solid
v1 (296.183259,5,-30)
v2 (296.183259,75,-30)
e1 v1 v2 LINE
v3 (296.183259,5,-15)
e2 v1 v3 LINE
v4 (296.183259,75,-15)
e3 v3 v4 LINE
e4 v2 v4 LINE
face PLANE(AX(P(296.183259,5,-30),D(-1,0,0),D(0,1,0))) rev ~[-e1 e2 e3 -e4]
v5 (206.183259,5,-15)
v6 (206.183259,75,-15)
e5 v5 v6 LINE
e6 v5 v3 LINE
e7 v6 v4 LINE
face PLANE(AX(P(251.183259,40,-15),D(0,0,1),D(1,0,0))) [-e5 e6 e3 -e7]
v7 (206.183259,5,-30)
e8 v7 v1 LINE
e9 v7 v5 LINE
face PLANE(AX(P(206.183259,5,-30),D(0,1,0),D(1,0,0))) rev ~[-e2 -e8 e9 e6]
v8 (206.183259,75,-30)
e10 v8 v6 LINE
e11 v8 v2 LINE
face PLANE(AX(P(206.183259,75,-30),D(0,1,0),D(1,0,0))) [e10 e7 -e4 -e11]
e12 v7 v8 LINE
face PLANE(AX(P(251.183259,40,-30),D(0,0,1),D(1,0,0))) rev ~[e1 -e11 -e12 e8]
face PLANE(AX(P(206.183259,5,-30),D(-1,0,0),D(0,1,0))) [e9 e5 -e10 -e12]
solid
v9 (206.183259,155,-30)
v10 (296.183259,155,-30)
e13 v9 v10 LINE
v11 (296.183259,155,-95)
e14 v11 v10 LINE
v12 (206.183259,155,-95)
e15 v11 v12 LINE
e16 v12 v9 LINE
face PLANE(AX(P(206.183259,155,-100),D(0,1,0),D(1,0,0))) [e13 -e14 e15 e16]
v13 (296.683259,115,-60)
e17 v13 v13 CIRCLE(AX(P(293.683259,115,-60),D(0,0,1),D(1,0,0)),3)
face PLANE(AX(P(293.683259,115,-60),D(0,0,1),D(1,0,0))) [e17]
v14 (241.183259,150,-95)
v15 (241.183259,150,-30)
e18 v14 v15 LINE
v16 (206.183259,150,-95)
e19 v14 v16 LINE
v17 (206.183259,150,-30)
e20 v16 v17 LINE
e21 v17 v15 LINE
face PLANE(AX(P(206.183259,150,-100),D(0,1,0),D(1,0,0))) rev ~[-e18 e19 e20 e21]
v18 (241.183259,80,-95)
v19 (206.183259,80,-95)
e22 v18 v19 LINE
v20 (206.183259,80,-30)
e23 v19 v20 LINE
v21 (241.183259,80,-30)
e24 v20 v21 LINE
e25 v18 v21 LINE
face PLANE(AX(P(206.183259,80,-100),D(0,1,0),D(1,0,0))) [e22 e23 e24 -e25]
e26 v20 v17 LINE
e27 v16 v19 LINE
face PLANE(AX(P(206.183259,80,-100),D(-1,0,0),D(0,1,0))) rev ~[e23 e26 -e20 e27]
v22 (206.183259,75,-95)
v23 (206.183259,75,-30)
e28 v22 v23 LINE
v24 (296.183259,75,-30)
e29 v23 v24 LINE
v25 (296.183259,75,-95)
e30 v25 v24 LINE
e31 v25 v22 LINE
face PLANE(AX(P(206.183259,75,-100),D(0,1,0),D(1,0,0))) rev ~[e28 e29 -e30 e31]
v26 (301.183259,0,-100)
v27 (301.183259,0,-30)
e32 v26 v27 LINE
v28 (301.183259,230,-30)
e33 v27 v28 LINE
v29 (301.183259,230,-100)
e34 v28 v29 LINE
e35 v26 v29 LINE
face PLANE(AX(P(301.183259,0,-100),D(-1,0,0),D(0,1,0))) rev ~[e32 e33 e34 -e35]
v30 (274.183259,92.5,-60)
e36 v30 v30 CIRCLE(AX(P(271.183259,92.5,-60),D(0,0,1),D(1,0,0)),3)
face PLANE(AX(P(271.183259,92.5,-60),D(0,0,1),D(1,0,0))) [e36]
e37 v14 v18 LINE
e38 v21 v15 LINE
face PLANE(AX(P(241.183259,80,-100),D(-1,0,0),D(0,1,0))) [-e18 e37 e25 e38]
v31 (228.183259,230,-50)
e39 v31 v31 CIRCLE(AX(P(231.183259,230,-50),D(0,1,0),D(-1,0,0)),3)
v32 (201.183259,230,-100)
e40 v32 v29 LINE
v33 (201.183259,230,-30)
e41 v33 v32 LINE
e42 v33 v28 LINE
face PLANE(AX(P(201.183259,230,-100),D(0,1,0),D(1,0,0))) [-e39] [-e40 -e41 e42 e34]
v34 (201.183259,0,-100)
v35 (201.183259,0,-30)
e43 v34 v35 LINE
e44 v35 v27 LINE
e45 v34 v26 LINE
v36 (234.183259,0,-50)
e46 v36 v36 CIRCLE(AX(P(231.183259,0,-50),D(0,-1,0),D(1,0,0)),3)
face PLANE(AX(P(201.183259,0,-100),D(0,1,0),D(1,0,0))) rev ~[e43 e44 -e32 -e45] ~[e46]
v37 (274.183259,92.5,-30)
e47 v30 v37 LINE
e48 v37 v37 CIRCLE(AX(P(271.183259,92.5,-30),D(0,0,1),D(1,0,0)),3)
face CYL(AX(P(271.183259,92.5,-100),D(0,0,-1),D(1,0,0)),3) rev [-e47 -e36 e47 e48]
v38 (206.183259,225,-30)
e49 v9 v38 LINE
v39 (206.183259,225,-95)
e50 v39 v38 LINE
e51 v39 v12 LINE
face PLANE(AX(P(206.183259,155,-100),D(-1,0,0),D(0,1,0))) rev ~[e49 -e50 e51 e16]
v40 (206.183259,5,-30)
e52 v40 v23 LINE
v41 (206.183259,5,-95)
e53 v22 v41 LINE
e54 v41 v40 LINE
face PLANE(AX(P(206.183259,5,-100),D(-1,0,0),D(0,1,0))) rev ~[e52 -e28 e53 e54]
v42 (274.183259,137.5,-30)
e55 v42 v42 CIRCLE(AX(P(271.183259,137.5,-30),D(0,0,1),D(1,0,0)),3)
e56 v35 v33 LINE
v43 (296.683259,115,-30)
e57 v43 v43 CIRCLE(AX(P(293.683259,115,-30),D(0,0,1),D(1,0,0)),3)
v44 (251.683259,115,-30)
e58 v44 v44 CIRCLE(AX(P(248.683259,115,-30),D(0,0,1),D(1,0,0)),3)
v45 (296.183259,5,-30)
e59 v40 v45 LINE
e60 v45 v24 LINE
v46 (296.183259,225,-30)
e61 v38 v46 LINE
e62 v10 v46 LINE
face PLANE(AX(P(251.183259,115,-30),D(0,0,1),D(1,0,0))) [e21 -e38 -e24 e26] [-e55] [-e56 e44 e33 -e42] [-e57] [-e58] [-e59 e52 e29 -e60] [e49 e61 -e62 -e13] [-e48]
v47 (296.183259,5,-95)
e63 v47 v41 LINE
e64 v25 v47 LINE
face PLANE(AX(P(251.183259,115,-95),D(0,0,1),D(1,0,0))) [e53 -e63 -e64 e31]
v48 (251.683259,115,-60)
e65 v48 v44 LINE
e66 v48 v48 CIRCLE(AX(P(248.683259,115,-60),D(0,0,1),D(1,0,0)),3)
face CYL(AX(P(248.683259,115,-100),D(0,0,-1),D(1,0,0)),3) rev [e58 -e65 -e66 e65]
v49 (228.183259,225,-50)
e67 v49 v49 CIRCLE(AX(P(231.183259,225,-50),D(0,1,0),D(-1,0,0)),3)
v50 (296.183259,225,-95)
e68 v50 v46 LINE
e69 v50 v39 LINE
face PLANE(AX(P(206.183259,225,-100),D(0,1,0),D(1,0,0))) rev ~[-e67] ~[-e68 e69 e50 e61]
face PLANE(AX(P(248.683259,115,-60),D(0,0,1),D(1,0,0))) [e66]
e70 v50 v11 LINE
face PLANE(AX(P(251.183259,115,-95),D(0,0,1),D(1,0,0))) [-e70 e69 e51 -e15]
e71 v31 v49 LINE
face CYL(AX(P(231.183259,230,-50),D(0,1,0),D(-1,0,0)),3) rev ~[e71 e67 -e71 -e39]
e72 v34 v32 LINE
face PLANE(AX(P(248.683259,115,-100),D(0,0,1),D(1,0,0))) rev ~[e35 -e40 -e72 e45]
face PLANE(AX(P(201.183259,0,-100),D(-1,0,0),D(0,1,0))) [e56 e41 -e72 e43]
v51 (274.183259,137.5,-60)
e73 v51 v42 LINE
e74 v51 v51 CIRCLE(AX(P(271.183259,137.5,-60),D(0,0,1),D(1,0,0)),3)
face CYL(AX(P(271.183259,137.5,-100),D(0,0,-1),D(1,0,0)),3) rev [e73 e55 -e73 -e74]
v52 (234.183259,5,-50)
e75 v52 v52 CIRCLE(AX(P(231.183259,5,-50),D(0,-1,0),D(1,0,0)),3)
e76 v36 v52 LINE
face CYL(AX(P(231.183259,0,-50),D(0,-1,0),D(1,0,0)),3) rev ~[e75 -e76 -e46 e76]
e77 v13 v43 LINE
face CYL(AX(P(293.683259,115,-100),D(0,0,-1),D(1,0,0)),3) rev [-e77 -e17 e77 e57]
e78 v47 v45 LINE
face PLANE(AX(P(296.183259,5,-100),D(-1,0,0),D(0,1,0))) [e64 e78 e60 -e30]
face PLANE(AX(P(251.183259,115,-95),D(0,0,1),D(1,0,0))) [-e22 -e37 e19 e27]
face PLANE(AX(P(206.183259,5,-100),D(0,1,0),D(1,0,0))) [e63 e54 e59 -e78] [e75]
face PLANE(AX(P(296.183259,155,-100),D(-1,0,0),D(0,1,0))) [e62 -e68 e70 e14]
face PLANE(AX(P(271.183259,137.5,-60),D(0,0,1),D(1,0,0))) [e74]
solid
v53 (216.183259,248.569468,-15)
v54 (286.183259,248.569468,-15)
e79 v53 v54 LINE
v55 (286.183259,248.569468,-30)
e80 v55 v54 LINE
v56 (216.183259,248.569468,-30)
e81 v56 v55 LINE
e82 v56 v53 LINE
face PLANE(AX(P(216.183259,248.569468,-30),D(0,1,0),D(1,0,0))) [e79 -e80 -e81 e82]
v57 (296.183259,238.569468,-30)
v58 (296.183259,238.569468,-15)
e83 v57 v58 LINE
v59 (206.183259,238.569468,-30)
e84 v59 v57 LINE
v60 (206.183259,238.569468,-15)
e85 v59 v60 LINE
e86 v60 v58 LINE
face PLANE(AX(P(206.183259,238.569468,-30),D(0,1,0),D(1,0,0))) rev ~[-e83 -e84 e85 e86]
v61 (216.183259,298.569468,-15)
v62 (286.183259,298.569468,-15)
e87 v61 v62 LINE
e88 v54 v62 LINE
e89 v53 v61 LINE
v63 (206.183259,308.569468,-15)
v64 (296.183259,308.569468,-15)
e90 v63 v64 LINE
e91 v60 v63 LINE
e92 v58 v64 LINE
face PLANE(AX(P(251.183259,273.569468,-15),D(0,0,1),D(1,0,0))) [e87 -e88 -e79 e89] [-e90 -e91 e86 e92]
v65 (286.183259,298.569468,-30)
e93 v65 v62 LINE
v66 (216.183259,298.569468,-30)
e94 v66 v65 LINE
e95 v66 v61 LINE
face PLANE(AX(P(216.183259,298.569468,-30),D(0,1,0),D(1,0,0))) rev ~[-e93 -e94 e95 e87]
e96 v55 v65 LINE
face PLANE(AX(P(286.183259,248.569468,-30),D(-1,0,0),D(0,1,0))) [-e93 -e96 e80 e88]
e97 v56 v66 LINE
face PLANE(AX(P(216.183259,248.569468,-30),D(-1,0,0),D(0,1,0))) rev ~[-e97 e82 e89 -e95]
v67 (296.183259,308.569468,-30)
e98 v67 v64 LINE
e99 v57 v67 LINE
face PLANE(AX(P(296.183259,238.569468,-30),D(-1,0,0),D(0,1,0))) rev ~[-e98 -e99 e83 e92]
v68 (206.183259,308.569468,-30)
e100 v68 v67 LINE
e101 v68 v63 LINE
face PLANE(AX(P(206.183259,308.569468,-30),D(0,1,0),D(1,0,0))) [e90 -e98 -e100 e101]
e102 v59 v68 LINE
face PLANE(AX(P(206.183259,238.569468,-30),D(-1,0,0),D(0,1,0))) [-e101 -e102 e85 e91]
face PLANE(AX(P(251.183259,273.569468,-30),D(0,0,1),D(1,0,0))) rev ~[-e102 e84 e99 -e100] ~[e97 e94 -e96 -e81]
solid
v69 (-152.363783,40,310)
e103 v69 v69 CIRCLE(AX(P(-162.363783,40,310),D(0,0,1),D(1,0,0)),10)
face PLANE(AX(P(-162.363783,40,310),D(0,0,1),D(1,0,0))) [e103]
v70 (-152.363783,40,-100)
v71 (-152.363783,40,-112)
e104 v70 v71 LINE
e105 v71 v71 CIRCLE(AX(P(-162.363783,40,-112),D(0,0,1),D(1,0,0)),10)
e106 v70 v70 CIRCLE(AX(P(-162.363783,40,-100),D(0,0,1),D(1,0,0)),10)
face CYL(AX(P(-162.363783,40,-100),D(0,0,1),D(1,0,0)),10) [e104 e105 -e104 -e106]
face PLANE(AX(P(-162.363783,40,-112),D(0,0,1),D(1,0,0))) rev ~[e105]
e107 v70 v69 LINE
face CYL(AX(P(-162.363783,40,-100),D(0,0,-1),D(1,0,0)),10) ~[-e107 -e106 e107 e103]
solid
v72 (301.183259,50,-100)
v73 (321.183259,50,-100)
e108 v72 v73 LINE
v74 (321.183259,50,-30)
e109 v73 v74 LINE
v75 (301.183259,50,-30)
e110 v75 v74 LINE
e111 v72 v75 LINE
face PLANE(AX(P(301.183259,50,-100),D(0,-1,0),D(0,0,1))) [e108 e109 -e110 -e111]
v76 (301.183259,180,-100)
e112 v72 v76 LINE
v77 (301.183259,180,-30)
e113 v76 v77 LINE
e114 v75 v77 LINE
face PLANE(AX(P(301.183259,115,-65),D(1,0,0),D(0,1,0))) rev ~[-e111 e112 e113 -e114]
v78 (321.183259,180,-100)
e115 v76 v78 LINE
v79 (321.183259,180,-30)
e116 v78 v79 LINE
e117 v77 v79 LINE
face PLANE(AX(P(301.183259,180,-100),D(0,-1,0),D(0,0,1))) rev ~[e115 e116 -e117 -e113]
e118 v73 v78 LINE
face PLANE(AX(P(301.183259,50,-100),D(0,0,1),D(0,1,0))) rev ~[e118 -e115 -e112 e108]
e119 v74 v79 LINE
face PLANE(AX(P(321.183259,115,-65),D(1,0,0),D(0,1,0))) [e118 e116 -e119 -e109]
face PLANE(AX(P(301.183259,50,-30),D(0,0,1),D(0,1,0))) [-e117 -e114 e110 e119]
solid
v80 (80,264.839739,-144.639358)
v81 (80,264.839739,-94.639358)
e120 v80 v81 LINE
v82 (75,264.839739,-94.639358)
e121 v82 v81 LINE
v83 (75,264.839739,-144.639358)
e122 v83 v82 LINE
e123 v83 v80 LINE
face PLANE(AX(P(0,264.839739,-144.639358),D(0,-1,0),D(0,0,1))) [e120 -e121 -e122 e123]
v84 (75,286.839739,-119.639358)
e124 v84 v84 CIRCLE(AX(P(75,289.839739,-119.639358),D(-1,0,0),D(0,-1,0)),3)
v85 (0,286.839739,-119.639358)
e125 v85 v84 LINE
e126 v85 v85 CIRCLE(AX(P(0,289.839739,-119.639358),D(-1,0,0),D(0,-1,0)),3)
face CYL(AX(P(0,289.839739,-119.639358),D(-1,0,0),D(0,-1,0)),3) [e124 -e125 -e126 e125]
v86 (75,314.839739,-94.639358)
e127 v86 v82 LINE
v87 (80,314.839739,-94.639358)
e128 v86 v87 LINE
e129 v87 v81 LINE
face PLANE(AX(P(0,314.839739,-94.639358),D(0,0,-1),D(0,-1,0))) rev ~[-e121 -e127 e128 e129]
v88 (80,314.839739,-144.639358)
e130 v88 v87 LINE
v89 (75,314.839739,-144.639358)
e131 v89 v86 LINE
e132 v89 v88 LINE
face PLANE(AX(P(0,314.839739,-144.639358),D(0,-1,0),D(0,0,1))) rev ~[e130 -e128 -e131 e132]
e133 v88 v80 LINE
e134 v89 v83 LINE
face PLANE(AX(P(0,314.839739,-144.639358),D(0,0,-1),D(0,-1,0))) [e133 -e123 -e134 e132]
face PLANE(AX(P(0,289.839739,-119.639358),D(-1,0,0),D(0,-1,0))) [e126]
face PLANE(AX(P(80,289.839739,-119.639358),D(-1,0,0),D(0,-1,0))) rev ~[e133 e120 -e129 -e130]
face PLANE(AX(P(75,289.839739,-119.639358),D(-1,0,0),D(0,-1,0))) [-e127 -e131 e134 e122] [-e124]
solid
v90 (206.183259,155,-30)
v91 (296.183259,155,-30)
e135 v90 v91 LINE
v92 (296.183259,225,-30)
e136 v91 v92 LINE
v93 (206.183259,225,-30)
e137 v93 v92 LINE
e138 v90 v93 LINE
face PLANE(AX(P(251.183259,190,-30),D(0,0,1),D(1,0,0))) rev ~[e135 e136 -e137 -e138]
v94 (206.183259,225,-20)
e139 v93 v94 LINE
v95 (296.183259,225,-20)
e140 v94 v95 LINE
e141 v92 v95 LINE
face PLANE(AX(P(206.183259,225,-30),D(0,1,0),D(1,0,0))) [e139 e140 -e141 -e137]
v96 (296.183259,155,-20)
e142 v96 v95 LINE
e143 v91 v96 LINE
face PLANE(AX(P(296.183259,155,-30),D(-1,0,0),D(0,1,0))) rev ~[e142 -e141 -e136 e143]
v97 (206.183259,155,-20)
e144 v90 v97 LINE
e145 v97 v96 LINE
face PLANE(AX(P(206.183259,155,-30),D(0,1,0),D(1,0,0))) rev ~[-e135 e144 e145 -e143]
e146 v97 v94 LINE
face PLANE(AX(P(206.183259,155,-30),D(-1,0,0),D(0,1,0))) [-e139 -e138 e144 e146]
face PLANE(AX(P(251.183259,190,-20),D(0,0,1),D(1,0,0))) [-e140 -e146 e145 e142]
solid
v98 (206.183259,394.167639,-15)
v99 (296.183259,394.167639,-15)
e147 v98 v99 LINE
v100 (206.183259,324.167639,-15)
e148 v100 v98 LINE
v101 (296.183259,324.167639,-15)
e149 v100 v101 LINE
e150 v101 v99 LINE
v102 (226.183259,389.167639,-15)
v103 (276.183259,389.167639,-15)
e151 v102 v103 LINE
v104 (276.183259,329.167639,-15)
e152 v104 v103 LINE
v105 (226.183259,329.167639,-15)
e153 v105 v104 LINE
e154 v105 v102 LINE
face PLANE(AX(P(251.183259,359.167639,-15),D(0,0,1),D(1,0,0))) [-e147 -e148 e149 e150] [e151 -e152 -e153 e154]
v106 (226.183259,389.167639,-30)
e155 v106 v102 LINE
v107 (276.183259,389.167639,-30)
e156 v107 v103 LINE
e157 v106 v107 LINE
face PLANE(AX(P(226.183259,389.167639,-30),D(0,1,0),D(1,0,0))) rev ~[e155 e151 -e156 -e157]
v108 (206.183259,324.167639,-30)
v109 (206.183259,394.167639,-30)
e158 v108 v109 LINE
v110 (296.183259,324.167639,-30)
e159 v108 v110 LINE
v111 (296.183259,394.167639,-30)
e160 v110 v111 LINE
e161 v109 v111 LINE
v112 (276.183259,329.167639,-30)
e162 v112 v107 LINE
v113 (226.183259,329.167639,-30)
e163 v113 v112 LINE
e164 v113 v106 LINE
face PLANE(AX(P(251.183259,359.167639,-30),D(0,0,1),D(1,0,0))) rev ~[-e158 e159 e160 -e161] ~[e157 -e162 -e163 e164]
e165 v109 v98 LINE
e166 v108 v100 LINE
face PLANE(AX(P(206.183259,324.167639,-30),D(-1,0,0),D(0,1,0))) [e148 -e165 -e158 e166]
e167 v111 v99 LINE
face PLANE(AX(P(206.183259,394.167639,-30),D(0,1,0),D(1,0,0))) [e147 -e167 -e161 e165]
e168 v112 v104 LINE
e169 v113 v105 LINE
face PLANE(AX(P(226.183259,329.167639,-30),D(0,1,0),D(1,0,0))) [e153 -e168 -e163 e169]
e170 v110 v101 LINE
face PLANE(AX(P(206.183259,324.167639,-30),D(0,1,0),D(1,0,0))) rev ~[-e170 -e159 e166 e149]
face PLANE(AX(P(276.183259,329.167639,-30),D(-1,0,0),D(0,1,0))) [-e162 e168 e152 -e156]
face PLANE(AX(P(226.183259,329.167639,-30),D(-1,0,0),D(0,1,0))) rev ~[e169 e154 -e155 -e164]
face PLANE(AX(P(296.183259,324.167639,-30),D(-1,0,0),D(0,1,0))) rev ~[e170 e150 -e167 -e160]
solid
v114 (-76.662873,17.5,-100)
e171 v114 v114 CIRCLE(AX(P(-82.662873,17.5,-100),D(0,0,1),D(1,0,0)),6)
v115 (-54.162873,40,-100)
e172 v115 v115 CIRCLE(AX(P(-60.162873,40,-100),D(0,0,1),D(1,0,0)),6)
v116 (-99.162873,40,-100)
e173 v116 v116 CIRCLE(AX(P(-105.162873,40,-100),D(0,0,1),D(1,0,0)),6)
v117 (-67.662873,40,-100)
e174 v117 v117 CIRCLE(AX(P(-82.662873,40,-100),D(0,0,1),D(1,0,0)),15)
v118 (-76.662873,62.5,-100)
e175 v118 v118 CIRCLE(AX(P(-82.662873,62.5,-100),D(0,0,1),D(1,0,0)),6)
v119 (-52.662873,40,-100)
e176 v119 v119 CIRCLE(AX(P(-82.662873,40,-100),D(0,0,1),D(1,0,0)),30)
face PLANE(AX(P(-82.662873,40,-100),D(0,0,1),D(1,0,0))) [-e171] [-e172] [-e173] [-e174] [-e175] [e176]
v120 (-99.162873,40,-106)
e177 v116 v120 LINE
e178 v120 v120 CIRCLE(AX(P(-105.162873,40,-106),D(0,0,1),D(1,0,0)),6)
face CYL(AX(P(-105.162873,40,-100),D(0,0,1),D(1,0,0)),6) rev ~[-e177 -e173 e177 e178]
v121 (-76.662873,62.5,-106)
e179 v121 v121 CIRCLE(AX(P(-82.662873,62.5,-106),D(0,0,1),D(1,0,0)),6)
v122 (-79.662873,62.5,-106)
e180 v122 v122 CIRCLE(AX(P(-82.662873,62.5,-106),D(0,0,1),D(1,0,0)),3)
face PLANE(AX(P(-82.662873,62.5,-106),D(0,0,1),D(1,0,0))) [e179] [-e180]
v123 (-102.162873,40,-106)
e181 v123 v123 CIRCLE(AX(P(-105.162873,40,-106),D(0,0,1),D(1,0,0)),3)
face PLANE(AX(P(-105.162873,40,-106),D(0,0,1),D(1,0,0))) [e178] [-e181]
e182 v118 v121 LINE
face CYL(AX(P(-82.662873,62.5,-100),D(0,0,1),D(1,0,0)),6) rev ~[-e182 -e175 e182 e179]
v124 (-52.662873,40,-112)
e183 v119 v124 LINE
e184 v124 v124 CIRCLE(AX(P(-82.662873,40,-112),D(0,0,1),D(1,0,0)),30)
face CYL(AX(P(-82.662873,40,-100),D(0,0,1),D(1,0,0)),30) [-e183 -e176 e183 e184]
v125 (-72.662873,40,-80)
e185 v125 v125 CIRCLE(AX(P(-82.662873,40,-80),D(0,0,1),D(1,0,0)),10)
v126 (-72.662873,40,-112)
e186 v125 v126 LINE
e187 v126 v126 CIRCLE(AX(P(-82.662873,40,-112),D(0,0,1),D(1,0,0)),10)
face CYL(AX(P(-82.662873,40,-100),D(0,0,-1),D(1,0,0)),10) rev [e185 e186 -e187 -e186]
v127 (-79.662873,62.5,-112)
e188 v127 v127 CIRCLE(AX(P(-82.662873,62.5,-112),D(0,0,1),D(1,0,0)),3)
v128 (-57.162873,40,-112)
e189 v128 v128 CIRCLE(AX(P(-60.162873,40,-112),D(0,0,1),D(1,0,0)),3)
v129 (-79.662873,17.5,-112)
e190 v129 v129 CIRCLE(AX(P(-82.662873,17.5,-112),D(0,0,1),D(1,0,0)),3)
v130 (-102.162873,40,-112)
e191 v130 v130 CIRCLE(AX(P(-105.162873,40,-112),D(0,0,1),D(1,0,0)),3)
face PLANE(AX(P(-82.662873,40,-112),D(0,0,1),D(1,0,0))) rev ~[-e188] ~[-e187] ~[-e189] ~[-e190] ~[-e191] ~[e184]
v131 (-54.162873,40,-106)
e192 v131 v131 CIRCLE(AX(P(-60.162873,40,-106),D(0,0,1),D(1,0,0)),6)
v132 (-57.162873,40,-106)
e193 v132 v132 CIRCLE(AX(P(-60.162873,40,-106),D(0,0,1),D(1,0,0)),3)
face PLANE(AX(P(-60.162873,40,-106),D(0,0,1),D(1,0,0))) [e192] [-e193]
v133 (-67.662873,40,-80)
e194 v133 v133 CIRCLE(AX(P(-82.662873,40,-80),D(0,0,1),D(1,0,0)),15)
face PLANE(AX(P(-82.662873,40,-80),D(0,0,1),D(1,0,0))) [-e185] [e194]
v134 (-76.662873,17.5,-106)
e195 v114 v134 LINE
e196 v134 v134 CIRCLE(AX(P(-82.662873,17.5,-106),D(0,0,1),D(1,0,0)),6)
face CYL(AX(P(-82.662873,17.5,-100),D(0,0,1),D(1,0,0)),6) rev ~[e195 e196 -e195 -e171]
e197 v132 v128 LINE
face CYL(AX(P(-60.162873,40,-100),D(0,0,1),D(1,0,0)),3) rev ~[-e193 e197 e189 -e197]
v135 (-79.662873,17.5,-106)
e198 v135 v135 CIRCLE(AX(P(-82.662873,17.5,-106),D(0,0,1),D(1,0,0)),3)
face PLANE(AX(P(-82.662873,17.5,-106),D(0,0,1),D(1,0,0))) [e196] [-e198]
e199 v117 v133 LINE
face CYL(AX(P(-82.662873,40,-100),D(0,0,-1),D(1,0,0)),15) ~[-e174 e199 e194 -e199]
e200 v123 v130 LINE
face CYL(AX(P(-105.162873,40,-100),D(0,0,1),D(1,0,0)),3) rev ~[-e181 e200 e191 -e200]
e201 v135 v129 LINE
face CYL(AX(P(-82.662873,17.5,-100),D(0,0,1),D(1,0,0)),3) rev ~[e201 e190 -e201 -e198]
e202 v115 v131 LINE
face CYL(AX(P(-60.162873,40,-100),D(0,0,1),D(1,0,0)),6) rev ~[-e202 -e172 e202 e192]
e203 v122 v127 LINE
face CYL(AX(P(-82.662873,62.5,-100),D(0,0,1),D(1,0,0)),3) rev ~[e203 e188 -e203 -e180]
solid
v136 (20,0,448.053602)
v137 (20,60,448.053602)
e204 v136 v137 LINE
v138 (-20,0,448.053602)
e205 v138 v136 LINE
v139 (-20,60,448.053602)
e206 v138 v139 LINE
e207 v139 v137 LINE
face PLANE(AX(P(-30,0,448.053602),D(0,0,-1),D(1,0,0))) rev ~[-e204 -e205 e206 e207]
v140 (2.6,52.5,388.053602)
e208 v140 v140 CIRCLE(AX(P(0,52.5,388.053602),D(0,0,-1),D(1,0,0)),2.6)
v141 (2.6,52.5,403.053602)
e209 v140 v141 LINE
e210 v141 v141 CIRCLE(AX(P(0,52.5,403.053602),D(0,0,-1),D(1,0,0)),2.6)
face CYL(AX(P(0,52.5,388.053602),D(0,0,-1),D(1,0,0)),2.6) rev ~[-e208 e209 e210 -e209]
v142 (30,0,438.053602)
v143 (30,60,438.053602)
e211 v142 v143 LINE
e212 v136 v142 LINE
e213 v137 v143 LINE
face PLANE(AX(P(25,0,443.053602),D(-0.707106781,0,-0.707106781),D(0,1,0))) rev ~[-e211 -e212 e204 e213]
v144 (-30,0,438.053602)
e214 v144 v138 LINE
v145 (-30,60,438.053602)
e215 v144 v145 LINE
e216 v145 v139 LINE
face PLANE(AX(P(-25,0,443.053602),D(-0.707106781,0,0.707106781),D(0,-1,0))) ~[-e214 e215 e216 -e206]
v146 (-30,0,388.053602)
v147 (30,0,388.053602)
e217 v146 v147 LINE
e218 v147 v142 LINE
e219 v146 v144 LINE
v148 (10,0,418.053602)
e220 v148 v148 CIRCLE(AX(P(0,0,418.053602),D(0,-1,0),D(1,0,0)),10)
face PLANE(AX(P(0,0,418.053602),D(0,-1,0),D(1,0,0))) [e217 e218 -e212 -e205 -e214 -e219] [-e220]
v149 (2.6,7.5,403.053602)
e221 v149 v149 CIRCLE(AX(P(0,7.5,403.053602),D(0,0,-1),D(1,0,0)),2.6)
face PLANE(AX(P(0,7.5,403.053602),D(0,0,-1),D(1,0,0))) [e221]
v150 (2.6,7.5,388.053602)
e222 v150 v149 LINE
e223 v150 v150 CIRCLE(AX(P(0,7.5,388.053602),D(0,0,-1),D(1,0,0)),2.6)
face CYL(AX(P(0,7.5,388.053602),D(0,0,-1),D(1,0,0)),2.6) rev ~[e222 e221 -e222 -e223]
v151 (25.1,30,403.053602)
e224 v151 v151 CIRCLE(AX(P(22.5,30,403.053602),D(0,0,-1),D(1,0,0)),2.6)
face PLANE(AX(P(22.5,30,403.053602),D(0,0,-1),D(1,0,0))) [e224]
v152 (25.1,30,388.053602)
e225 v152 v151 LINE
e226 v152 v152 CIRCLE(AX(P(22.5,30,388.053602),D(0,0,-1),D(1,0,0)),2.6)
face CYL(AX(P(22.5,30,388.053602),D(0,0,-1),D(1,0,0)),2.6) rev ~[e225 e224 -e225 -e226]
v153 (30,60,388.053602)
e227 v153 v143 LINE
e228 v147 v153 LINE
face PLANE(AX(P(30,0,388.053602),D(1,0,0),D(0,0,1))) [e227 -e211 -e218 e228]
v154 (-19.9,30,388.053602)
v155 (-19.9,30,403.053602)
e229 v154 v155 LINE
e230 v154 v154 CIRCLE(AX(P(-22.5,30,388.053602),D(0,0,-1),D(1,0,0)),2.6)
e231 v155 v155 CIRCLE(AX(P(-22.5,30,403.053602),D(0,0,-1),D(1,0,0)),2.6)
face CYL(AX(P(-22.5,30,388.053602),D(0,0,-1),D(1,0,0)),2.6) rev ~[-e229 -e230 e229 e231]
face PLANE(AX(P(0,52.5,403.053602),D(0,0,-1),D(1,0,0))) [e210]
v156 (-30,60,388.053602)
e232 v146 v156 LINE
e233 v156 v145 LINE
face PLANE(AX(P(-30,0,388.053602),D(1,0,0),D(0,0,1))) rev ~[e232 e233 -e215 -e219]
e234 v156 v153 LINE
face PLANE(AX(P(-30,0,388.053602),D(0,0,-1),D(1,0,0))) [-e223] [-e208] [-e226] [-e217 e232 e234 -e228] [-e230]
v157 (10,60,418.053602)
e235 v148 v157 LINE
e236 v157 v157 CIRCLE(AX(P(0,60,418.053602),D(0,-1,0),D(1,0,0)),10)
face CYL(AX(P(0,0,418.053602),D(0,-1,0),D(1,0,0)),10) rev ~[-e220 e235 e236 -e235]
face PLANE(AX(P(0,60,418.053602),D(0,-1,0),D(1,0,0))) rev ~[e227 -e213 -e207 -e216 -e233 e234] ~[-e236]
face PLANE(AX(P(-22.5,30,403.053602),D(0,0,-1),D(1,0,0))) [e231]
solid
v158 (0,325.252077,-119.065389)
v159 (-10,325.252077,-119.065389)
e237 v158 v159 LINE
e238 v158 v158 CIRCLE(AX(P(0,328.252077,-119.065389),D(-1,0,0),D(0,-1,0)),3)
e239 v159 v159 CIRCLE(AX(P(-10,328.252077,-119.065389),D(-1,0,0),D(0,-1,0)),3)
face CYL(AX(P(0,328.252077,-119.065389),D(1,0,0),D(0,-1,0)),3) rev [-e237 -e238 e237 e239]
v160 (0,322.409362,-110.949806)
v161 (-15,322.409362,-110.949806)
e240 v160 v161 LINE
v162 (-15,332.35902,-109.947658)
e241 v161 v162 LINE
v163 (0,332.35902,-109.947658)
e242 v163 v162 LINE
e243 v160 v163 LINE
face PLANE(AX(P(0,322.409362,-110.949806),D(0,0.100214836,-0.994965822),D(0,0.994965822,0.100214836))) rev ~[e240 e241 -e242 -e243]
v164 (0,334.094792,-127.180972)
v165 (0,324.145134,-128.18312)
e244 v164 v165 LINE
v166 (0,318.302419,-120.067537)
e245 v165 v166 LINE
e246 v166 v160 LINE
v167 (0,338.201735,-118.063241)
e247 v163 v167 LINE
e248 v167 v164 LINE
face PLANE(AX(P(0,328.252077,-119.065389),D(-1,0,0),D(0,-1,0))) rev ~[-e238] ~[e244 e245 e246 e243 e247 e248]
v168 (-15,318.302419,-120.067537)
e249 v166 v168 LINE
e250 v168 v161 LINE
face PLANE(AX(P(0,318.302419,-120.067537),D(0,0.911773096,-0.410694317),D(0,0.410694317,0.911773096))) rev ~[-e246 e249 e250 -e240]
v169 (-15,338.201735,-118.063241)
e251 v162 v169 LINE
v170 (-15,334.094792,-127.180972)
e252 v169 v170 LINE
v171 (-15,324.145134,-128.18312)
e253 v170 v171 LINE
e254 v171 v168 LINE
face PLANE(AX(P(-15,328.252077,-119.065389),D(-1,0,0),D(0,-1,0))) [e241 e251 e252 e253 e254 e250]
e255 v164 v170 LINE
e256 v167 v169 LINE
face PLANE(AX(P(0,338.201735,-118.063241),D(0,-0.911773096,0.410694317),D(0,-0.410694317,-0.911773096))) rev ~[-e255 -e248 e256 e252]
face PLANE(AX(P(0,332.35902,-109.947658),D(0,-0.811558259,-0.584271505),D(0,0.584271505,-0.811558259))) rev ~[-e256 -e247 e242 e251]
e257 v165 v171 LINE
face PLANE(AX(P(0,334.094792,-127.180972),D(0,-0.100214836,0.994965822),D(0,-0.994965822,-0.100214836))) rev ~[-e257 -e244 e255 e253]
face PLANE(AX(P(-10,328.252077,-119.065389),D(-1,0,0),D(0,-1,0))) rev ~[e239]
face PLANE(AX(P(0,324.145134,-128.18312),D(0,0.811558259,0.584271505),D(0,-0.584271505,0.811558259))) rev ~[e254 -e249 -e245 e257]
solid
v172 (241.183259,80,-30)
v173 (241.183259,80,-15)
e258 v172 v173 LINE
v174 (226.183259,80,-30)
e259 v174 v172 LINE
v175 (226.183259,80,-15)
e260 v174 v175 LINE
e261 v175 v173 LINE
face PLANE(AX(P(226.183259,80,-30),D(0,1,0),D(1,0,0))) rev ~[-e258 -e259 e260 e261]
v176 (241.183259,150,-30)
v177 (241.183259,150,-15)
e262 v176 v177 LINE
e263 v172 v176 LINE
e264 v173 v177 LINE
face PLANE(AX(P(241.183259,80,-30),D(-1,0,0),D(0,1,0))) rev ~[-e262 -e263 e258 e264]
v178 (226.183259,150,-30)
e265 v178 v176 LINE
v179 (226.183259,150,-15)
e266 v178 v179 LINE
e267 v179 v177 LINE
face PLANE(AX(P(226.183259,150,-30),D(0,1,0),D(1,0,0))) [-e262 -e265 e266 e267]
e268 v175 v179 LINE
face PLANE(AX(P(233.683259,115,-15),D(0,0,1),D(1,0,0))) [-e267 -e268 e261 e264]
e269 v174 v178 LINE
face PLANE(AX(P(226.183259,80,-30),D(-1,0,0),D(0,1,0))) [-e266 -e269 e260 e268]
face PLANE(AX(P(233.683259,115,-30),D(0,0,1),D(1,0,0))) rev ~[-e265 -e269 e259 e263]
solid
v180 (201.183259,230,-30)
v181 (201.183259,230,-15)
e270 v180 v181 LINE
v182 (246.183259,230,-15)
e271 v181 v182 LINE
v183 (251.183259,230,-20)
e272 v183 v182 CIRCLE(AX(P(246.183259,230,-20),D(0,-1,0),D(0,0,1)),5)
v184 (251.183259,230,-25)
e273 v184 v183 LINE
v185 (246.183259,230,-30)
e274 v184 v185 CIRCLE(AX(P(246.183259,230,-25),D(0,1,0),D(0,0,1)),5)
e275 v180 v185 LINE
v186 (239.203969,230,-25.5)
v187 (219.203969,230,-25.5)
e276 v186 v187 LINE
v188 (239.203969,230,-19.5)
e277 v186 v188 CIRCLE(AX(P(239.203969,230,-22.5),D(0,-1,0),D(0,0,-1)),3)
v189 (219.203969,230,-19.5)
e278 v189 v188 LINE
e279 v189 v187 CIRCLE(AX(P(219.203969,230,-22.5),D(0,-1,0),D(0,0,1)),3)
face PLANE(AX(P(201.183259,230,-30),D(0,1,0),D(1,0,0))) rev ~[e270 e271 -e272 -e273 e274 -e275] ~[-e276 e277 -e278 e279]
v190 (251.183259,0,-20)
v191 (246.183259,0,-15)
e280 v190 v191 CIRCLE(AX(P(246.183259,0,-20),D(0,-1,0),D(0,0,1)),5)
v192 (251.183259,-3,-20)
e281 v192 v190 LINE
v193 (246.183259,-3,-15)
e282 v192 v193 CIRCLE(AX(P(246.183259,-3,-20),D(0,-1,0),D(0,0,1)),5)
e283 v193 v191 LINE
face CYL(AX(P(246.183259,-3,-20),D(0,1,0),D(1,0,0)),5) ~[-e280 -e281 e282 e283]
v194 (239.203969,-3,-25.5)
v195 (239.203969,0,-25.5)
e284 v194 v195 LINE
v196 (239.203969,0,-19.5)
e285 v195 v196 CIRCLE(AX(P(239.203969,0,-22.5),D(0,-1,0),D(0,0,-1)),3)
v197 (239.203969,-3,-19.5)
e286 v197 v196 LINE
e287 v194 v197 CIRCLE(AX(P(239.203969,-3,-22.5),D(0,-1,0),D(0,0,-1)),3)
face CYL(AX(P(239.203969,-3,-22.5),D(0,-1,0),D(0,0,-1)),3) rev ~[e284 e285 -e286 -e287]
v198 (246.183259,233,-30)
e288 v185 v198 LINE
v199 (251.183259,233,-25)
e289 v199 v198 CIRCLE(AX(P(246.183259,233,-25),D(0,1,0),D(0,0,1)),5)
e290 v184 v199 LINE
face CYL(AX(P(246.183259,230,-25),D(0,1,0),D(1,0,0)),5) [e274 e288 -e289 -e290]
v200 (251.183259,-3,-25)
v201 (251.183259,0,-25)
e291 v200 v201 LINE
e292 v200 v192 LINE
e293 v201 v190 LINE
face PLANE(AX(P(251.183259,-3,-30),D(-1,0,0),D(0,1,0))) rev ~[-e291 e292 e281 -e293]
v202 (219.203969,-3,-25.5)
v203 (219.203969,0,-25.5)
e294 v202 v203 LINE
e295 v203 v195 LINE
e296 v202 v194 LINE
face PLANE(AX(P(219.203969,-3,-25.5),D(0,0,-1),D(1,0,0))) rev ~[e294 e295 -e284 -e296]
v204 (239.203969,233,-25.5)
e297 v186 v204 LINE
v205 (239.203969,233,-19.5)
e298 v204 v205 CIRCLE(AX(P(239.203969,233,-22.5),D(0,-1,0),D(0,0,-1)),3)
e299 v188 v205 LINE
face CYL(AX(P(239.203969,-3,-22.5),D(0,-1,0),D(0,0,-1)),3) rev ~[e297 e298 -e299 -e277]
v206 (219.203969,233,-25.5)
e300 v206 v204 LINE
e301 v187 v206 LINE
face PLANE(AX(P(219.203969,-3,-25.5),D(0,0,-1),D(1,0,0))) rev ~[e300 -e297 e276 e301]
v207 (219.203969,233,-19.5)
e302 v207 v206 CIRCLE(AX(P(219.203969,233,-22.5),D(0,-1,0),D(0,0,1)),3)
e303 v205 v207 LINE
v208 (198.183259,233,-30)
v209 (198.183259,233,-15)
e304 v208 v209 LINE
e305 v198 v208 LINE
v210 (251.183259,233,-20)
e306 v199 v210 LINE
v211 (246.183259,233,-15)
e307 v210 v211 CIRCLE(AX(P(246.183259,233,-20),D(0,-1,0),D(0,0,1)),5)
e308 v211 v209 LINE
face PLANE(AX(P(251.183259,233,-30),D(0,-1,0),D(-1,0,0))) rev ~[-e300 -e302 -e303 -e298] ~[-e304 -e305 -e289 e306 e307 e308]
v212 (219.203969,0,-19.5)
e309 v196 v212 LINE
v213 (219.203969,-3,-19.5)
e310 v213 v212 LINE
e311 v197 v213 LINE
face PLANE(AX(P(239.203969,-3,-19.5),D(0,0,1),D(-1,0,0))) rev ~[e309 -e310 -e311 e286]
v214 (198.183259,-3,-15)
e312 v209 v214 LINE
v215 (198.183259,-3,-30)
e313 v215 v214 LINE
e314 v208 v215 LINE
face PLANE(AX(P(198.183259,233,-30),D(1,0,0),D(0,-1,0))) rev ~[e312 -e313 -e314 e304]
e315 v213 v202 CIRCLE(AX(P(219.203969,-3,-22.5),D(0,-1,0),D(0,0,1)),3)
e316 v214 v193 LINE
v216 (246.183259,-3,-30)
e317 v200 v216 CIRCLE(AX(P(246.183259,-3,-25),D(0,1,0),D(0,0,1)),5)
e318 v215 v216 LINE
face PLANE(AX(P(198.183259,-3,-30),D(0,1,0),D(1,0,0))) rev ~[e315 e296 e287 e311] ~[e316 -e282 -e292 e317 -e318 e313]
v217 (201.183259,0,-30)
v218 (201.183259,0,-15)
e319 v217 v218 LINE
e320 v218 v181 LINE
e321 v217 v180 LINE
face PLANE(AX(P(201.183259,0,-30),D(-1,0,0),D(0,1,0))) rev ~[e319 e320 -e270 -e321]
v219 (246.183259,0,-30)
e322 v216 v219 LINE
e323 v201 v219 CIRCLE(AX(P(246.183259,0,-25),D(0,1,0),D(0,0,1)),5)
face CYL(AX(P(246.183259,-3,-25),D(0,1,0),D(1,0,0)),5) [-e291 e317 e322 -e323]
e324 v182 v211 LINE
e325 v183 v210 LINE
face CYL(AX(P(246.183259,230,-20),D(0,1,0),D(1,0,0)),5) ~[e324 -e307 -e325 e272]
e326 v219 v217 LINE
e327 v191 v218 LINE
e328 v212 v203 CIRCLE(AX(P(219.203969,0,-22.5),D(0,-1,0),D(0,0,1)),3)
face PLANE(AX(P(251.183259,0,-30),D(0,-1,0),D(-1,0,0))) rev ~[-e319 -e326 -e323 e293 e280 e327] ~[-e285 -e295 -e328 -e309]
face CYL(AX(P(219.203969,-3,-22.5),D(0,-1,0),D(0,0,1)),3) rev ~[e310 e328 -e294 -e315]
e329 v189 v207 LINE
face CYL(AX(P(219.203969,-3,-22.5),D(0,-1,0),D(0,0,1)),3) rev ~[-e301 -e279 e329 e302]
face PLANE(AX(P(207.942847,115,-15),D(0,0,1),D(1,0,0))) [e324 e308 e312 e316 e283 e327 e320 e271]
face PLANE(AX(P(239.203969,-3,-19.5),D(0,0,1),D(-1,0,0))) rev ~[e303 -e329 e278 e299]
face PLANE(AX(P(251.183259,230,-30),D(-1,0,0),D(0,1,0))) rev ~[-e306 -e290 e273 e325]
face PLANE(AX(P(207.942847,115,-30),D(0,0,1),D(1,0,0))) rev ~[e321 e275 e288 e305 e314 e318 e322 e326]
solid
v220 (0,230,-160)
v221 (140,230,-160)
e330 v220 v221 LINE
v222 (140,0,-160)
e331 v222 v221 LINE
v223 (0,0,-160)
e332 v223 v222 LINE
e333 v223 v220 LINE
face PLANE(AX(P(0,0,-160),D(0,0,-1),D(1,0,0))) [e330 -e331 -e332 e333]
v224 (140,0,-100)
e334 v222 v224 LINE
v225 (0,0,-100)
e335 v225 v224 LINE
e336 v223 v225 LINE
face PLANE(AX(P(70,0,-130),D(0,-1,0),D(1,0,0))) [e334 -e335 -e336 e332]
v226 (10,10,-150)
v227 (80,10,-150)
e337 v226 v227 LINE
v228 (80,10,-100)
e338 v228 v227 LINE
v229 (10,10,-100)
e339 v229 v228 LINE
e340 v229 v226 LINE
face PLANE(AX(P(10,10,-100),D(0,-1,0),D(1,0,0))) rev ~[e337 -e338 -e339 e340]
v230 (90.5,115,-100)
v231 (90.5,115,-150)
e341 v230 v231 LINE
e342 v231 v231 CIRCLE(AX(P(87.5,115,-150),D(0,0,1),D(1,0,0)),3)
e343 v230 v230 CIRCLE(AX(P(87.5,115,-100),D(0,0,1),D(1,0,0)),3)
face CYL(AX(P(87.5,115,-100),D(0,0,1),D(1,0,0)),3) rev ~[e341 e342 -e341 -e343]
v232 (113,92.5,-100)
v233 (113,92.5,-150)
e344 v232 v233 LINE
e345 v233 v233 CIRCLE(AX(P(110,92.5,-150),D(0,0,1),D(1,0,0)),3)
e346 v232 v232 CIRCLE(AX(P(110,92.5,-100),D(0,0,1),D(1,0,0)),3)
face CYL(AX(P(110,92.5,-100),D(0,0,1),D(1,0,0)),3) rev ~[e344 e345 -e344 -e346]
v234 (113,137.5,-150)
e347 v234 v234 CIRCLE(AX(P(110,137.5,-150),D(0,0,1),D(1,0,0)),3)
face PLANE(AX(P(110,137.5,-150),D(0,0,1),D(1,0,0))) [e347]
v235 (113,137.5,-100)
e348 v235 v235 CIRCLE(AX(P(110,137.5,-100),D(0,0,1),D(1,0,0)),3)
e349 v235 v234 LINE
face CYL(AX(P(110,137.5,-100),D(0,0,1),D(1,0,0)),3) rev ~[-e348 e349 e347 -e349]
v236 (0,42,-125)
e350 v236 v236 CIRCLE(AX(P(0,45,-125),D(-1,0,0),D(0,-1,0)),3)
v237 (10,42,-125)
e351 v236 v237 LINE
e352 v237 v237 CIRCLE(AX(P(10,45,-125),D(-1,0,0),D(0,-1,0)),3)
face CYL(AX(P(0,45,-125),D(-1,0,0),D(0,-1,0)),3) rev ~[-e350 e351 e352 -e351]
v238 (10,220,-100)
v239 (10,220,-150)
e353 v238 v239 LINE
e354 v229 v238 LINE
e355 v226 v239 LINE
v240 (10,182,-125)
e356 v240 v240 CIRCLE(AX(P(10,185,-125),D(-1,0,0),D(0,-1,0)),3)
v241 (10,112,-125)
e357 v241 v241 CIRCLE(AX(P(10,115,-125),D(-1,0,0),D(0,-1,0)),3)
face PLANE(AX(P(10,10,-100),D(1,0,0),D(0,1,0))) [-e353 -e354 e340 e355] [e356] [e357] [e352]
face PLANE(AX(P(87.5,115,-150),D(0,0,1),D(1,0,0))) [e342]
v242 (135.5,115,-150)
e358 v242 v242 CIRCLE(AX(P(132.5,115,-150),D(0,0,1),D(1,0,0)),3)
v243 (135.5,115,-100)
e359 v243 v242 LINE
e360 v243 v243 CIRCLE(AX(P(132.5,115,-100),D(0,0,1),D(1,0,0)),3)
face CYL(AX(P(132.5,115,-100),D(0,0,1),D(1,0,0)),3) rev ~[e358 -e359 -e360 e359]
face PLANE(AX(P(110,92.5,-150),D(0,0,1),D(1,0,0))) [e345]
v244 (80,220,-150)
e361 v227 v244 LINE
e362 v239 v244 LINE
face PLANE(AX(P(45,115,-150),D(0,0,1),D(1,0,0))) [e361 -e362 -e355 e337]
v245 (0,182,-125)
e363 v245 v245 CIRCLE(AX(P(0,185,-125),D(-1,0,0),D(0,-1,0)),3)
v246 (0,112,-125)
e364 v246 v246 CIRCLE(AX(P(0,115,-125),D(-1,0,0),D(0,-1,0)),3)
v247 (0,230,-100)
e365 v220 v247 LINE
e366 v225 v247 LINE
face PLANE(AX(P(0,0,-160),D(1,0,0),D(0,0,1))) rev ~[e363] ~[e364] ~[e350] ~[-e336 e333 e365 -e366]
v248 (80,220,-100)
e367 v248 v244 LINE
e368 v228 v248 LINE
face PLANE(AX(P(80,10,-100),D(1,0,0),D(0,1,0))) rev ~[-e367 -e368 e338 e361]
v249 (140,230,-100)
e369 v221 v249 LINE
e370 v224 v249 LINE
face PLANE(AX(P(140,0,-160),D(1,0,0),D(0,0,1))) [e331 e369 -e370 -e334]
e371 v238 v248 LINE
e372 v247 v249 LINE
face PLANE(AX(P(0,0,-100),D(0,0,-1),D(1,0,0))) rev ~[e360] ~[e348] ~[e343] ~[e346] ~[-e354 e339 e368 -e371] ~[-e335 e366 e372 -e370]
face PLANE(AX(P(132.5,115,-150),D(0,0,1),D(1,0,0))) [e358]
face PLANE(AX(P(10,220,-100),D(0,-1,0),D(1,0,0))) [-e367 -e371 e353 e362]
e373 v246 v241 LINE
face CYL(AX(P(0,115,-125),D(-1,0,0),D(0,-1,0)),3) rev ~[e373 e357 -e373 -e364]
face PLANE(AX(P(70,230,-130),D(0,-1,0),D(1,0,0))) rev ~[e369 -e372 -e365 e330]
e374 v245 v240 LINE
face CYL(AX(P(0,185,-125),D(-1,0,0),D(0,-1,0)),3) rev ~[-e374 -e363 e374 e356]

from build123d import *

# Parameters (mm, degrees)
F0_W      = 140
F0_H      = 60
F1_DEPTH  = 230
F2_R      = 30
F2_R_2    = 6
F2_R_3    = 15
F2_R_4    = 10
F2_R_5    = 3
F3_DEPTH  = 12
F4_DEPTH  = 6
F5_DEPTH  = 20
F6_DEPTH  = 410
F7_W      = 60
F7_H      = 60
F7_R      = 10
F8_DEPTH  = 60
F9_R      = 2.6
F10_DEPTH = 15
F11_W     = 70
F11_H     = 210
F11_R     = 3
F12_DEPTH = 50
F13_R     = 3
F14_DEPTH = 10
F16_R     = 3
F17_DEPTH = 15
F18_DEPTH = 10
F15_W     = 50
F15_H     = 50
F15_R     = 3
F19_DEPTH = 80
F20_DEPTH = 75
F21_SIZE  = 10
F22_W     = 100
F22_H     = 230
F22_W_2   = 90
F22_H_2   = 70
F22_R     = 3
F22_W_3   = 35
F23_DEPTH = 5
F24_DEPTH = 70
F25_DEPTH = 40
F26_W     = 130
F26_H     = 70
F27_DEPTH = 20
F29_DEPTH = 15
F30_R     = 5
F32_DEPTH = 341.2027353209
F33_R     = 3
F34_DEPTH = 5
F35_R     = 3
F36_DEPTH = 5
F37_W     = 90
F37_H     = 70
F38_DEPTH = 15
F37_W_2   = 15
F37_W_3   = 70
F37_H_2   = 50
F37_W_4   = 50
F37_H_3   = 60
F39_DEPTH = 10


with BuildPart() as f1:
    # F0 (on Front) → F1 (new body)
    with BuildSketch(Plane.XZ):
        with Locations((70, -130)):
            Rectangle(F0_W, F0_H)
    extrude(amount=-F1_DEPTH)

    # F11 (on face) → F12 (cut)
    with BuildSketch(Plane.XY.offset(-100)):
        with Locations((45, 115)):
            Rectangle(F11_W, F11_H)
        with Locations((110, 137.5)):
            Circle(F11_R)
        with Locations((87.5, 115)):
            Circle(F11_R)
        with Locations((110, 92.5)):
            Circle(F11_R)
        with Locations((132.5, 115)):
            Circle(F11_R)
    extrude(amount=-F12_DEPTH, mode=Mode.SUBTRACT)

    # F13 (on face) → F14 (cut)
    with BuildSketch(Plane(origin=(0, 0, 0), x_dir=(0, -1, 0), z_dir=(-1, 0, 0))):
        with Locations((-115, -125)):
            Circle(F13_R)
        with Locations((-185, -125)):
            Circle(F13_R)
        with Locations((-45, -125)):
            Circle(F13_R)
    extrude(amount=-F14_DEPTH, mode=Mode.SUBTRACT)


with BuildPart() as f3:
    # F2 (on face) → F3 (new body)
    with BuildSketch(Plane.XY.offset(-100)):
        with Locations((-82.6628729701, 40)):
            Circle(F2_R)
        with Locations((-105.1628729701, 40)):
            Circle(F2_R_2, mode=Mode.SUBTRACT)
        with Locations((-82.6628729701, 17.5)):
            Circle(F2_R_2, mode=Mode.SUBTRACT)
        with Locations((-82.6628729701, 40)):
            Circle(F2_R_3, mode=Mode.SUBTRACT)
        with Locations((-60.1628729701, 40)):
            Circle(F2_R_2, mode=Mode.SUBTRACT)
        with Locations((-82.6628729701, 62.5)):
            Circle(F2_R_2, mode=Mode.SUBTRACT)
        with Locations((-82.6628729701, 40)):
            Circle(F2_R_3)
        with Locations((-82.6628729701, 40)):
            Circle(F2_R_4, mode=Mode.SUBTRACT)
        with Locations((-105.1628729701, 40)):
            Circle(F2_R_2)
        with Locations((-105.1628729701, 40)):
            Circle(F2_R_5, mode=Mode.SUBTRACT)
        with Locations((-82.6628729701, 62.5)):
            Circle(F2_R_2)
        with Locations((-82.6628729701, 62.5)):
            Circle(F2_R_5, mode=Mode.SUBTRACT)
        with Locations((-60.1628729701, 40)):
            Circle(F2_R_2)
        with Locations((-60.1628729701, 40)):
            Circle(F2_R_5, mode=Mode.SUBTRACT)
        with Locations((-82.6628729701, 17.5)):
            Circle(F2_R_2)
        with Locations((-82.6628729701, 17.5)):
            Circle(F2_R_5, mode=Mode.SUBTRACT)
    extrude(amount=-F3_DEPTH)

    # F2 (on face) → F4 (cut)
    with BuildSketch(Plane.XY.offset(-100)):
        with Locations((-82.6628729701, 62.5)):
            Circle(F2_R_2)
        with Locations((-82.6628729701, 62.5)):
            Circle(F2_R_5, mode=Mode.SUBTRACT)
        with Locations((-60.1628729701, 40)):
            Circle(F2_R_2)
        with Locations((-60.1628729701, 40)):
            Circle(F2_R_5, mode=Mode.SUBTRACT)
        with Locations((-82.6628729701, 17.5)):
            Circle(F2_R_2)
        with Locations((-82.6628729701, 17.5)):
            Circle(F2_R_5, mode=Mode.SUBTRACT)
        with Locations((-105.1628729701, 40)):
            Circle(F2_R_2)
        with Locations((-105.1628729701, 40)):
            Circle(F2_R_5, mode=Mode.SUBTRACT)
    extrude(amount=-F4_DEPTH, mode=Mode.SUBTRACT)

    # F2 (on face) → F5 (join)
    with BuildSketch(Plane.XY.offset(-100)):
        with Locations((-82.6628729701, 40)):
            Circle(F2_R_3)
        with Locations((-82.6628729701, 40)):
            Circle(F2_R_4, mode=Mode.SUBTRACT)
    extrude(amount=F5_DEPTH)


with BuildPart() as f3b:
    # F2 (on face) → F3, piece 2 (new body)
    with BuildSketch(Plane.XY.offset(-100)):
        with Locations((-162.3637825251, 40)):
            Circle(F2_R_4)
    extrude(amount=-F3_DEPTH)

    # F2 (on face) → F6 (join)
    with BuildSketch(Plane.XY.offset(-100)):
        with Locations((-162.3637825251, 40)):
            Circle(F2_R_4)
    extrude(amount=F6_DEPTH)


with BuildPart() as f8:
    # F7 (on Front) → F8 (new body)
    with BuildSketch(Plane.XZ):
        with Locations((0, 418.0536019802)):
            Rectangle(F7_W, F7_H)
        with Locations((0, 418.0536019802)):
            Circle(F7_R, mode=Mode.SUBTRACT)
    extrude(amount=-F8_DEPTH)

    # F9 (on face) → F10 (cut)
    with BuildSketch(Plane(origin=(0, 0, 388.0536019802), x_dir=(1, 0, 0), z_dir=(0, 0, -1))):
        with Locations((0, -7.5)):
            Circle(F9_R)
        with Locations((-22.5, -30)):
            Circle(F9_R)
        with Locations((0, -52.5)):
            Circle(F9_R)
        with Locations((22.5, -30)):
            Circle(F9_R)
    extrude(amount=-F10_DEPTH, mode=Mode.SUBTRACT)

    # F21
    f21_edges = [f8.edges().sort_by_distance(p)[0] for p in [
        (-30, 30, 448.053602),
        (30, 30, 448.053602),
    ]]
    chamfer(f21_edges, length=F21_SIZE)


with BuildPart() as f17:
    # F16 (on face) → F17 (new body)
    with BuildSketch(Plane(origin=(0, 0, 0), x_dir=(0, -1, 0), z_dir=(-1, 0, 0))):
        Polygon((-318.3024188844, -120.0675373993), (-322.4093620535, -110.9498064422), (-332.3590202718, -109.9476580801), (-338.2017353209, -118.063240675), (-334.0947921518, -127.180971632), (-324.1451339335, -128.1831199942), align=None)
        with Locations((-328.2520771027, -119.0653890371)):
            Circle(F16_R, mode=Mode.SUBTRACT)
        with Locations((-328.2520771027, -119.0653890371)):
            Circle(F16_R)
    extrude(amount=F17_DEPTH)

    # F16 (on face) → F18 (cut)
    with BuildSketch(Plane(origin=(0, 0, 0), x_dir=(0, -1, 0), z_dir=(-1, 0, 0))):
        with Locations((-328.2520771027, -119.0653890371)):
            Circle(F16_R)
    extrude(amount=F18_DEPTH, mode=Mode.SUBTRACT)


with BuildPart() as f19:
    # F15 (on face) → F19 (new body)
    with BuildSketch(Plane(origin=(0, 0, 0), x_dir=(0, -1, 0), z_dir=(-1, 0, 0))):
        with Locations((-289.8397386074, -119.6393579245)):
            Rectangle(F15_W, F15_H)
        with Locations((-289.8397386074, -119.6393579245)):
            Circle(F15_R, mode=Mode.SUBTRACT)
        with Locations((-289.8397386074, -119.6393579245)):
            Circle(F15_R)
    extrude(amount=-F19_DEPTH)

    # F15 (on face) → F20 (cut)
    with BuildSketch(Plane(origin=(0, 0, 0), x_dir=(0, -1, 0), z_dir=(-1, 0, 0))):
        with Locations((-289.8397386074, -119.6393579245)):
            Rectangle(F15_W, F15_H)
        with Locations((-289.8397386074, -119.6393579245)):
            Circle(F15_R, mode=Mode.SUBTRACT)
    extrude(amount=-F20_DEPTH, mode=Mode.SUBTRACT)


with BuildPart() as f23:
    # F22 (on face) → F23 (new body)
    with BuildSketch(Plane.XY.offset(-100)):
        with Locations((251.1832594872, 115)):
            Rectangle(F22_W, F22_H)
        with Locations((251.1832594872, 40)):
            Rectangle(F22_W_2, F22_H_2, mode=Mode.SUBTRACT)
        with Locations((271.1832594872, 92.5)):
            Circle(F22_R, mode=Mode.SUBTRACT)
        with Locations((223.6832594872, 115)):
            Rectangle(F22_W_3, F22_H_2, mode=Mode.SUBTRACT)
        with Locations((248.6832594872, 115)):
            Circle(F22_R, mode=Mode.SUBTRACT)
        with Locations((293.6832594872, 115)):
            Circle(F22_R, mode=Mode.SUBTRACT)
        with Locations((271.1832594872, 137.5)):
            Circle(F22_R, mode=Mode.SUBTRACT)
        with Locations((251.1832594872, 190)):
            Rectangle(F22_W_2, F22_H_2, mode=Mode.SUBTRACT)
        with Locations((271.1832594872, 92.5)):
            Circle(F22_R)
        with Locations((248.6832594872, 115)):
            Circle(F22_R)
        with Locations((293.6832594872, 115)):
            Circle(F22_R)
        with Locations((271.1832594872, 137.5)):
            Circle(F22_R)
        with Locations((223.6832594872, 115)):
            Rectangle(F22_W_3, F22_H_2)
        with Locations((251.1832594872, 40)):
            Rectangle(F22_W_2, F22_H_2)
        with Locations((251.1832594872, 190)):
            Rectangle(F22_W_2, F22_H_2)
    extrude(amount=F23_DEPTH)

    # F22 (on face) → F24 (join)
    with BuildSketch(Plane.XY.offset(-100)):
        with Locations((251.1832594872, 115)):
            Rectangle(F22_W, F22_H)
        with Locations((251.1832594872, 40)):
            Rectangle(F22_W_2, F22_H_2, mode=Mode.SUBTRACT)
        with Locations((271.1832594872, 92.5)):
            Circle(F22_R, mode=Mode.SUBTRACT)
        with Locations((223.6832594872, 115)):
            Rectangle(F22_W_3, F22_H_2, mode=Mode.SUBTRACT)
        with Locations((248.6832594872, 115)):
            Circle(F22_R, mode=Mode.SUBTRACT)
        with Locations((271.1832594872, 137.5)):
            Circle(F22_R, mode=Mode.SUBTRACT)
        with Locations((293.6832594872, 115)):
            Circle(F22_R, mode=Mode.SUBTRACT)
        with Locations((251.1832594872, 190)):
            Rectangle(F22_W_2, F22_H_2, mode=Mode.SUBTRACT)
    extrude(amount=F24_DEPTH)

    # F22 (on face) → F25 (join)
    with BuildSketch(Plane.XY.offset(-100)):
        with Locations((248.6832594872, 115)):
            Circle(F22_R)
        with Locations((271.1832594872, 137.5)):
            Circle(F22_R)
        with Locations((271.1832594872, 92.5)):
            Circle(F22_R)
        with Locations((293.6832594872, 115)):
            Circle(F22_R)
    extrude(amount=F25_DEPTH)

    # F33 (on face) → F34 (cut, through all)
    with BuildSketch(Plane.XZ):
        with Locations((231.1832594872, -50)):
            Circle(F33_R)
    extrude(amount=-F34_DEPTH, mode=Mode.SUBTRACT)

    # F35 (on face) → F36 (cut, through all)
    with BuildSketch(Plane(origin=(0, 230, 0), x_dir=(-1, 0, 0), z_dir=(0, 1, 0))):
        with Locations((-231.1832594872, -50)):
            Circle(F35_R)
    extrude(amount=-F36_DEPTH, mode=Mode.SUBTRACT)


with BuildPart() as f27:
    # F26 (on face) → F27 (new body)
    with BuildSketch(Plane.YZ.offset(301.1832594872)):
        with Locations((115, -65)):
            Rectangle(F26_W, F26_H)
    extrude(amount=F27_DEPTH)


with BuildPart() as f29:
    # F28 (on face) → F29 (new body)
    with BuildSketch(Plane.XY.offset(-30)):
        Polygon((201.1832594872, 230), (251.1832594872, 230), (251.1832594872, 233), (198.1832594872, 233), (198.1832594872, -3), (251.1832594872, -3), (251.1832594872, 0), (201.1832594872, 0), align=None)
    extrude(amount=F29_DEPTH)

    # F30
    f30_edges = [f29.edges().sort_by_distance(p)[0] for p in [
        (251.183259, -1.5, -15),
        (251.183259, -1.5, -30),
        (251.183259, 231.5, -15),
        (251.183259, 231.5, -30),
    ]]
    fillet(f30_edges, radius=F30_R)

    # F31 (on face) → F32 (cut, through all)
    with BuildSketch(Plane.XZ.offset(3)):
        with BuildLine():
            Line((239.2039692402, -19.5), (219.2039692402, -19.5))
            ThreePointArc((219.2039692402, -19.5), (216.2039692402, -22.5), (219.2039692402, -25.5))
            Line((219.2039692402, -25.5), (239.2039692402, -25.5))
            ThreePointArc((239.2039692402, -25.5), (242.2039692402, -22.5), (239.2039692402, -19.5))
        make_face()
    extrude(amount=-F32_DEPTH, mode=Mode.SUBTRACT)


with BuildPart() as f38:
    # F37 (on face) → F38 (new body)
    with BuildSketch(Plane.XY.offset(-30)):
        with Locations((251.1832594872, 40)):
            Rectangle(F37_W, F37_H)
    extrude(amount=F38_DEPTH)


with BuildPart() as f38b:
    # F37 (on face) → F38, piece 2 (new body)
    with BuildSketch(Plane.XY.offset(-30)):
        with Locations((233.6832594872, 115)):
            Rectangle(F37_W_2, F37_H)
    extrude(amount=F38_DEPTH)


with BuildPart() as f38c:
    # F37 (on face) → F38, piece 3 (new body)
    with BuildSketch(Plane.XY.offset(-30)):
        with Locations((251.1832594872, 273.5694682598)):
            Rectangle(F37_W, F37_H)
        with Locations((251.1832594872, 273.5694682598)):
            Rectangle(F37_W_3, F37_H_2, mode=Mode.SUBTRACT)
    extrude(amount=F38_DEPTH)


with BuildPart() as f38d:
    # F37 (on face) → F38, piece 4 (new body)
    with BuildSketch(Plane.XY.offset(-30)):
        with Locations((251.1832594872, 359.1676390171)):
            Rectangle(F37_W, F37_H)
        with Locations((251.1832594872, 359.1676390171)):
            Rectangle(F37_W_4, F37_H_3, mode=Mode.SUBTRACT)
    extrude(amount=F38_DEPTH)


with BuildPart() as f39:
    # F37 (on face) → F39 (new body)
    with BuildSketch(Plane.XY.offset(-30)):
        with Locations((251.1832594872, 190)):
            Rectangle(F37_W, F37_H)
    extrude(amount=F39_DEPTH)


solid = Compound([f1.part, f3.part, f3b.part, f8.part, f17.part, f19.part, f23.part, f27.part, f29.part, f38.part, f38b.part, f38c.part, f38d.part, f39.part])
